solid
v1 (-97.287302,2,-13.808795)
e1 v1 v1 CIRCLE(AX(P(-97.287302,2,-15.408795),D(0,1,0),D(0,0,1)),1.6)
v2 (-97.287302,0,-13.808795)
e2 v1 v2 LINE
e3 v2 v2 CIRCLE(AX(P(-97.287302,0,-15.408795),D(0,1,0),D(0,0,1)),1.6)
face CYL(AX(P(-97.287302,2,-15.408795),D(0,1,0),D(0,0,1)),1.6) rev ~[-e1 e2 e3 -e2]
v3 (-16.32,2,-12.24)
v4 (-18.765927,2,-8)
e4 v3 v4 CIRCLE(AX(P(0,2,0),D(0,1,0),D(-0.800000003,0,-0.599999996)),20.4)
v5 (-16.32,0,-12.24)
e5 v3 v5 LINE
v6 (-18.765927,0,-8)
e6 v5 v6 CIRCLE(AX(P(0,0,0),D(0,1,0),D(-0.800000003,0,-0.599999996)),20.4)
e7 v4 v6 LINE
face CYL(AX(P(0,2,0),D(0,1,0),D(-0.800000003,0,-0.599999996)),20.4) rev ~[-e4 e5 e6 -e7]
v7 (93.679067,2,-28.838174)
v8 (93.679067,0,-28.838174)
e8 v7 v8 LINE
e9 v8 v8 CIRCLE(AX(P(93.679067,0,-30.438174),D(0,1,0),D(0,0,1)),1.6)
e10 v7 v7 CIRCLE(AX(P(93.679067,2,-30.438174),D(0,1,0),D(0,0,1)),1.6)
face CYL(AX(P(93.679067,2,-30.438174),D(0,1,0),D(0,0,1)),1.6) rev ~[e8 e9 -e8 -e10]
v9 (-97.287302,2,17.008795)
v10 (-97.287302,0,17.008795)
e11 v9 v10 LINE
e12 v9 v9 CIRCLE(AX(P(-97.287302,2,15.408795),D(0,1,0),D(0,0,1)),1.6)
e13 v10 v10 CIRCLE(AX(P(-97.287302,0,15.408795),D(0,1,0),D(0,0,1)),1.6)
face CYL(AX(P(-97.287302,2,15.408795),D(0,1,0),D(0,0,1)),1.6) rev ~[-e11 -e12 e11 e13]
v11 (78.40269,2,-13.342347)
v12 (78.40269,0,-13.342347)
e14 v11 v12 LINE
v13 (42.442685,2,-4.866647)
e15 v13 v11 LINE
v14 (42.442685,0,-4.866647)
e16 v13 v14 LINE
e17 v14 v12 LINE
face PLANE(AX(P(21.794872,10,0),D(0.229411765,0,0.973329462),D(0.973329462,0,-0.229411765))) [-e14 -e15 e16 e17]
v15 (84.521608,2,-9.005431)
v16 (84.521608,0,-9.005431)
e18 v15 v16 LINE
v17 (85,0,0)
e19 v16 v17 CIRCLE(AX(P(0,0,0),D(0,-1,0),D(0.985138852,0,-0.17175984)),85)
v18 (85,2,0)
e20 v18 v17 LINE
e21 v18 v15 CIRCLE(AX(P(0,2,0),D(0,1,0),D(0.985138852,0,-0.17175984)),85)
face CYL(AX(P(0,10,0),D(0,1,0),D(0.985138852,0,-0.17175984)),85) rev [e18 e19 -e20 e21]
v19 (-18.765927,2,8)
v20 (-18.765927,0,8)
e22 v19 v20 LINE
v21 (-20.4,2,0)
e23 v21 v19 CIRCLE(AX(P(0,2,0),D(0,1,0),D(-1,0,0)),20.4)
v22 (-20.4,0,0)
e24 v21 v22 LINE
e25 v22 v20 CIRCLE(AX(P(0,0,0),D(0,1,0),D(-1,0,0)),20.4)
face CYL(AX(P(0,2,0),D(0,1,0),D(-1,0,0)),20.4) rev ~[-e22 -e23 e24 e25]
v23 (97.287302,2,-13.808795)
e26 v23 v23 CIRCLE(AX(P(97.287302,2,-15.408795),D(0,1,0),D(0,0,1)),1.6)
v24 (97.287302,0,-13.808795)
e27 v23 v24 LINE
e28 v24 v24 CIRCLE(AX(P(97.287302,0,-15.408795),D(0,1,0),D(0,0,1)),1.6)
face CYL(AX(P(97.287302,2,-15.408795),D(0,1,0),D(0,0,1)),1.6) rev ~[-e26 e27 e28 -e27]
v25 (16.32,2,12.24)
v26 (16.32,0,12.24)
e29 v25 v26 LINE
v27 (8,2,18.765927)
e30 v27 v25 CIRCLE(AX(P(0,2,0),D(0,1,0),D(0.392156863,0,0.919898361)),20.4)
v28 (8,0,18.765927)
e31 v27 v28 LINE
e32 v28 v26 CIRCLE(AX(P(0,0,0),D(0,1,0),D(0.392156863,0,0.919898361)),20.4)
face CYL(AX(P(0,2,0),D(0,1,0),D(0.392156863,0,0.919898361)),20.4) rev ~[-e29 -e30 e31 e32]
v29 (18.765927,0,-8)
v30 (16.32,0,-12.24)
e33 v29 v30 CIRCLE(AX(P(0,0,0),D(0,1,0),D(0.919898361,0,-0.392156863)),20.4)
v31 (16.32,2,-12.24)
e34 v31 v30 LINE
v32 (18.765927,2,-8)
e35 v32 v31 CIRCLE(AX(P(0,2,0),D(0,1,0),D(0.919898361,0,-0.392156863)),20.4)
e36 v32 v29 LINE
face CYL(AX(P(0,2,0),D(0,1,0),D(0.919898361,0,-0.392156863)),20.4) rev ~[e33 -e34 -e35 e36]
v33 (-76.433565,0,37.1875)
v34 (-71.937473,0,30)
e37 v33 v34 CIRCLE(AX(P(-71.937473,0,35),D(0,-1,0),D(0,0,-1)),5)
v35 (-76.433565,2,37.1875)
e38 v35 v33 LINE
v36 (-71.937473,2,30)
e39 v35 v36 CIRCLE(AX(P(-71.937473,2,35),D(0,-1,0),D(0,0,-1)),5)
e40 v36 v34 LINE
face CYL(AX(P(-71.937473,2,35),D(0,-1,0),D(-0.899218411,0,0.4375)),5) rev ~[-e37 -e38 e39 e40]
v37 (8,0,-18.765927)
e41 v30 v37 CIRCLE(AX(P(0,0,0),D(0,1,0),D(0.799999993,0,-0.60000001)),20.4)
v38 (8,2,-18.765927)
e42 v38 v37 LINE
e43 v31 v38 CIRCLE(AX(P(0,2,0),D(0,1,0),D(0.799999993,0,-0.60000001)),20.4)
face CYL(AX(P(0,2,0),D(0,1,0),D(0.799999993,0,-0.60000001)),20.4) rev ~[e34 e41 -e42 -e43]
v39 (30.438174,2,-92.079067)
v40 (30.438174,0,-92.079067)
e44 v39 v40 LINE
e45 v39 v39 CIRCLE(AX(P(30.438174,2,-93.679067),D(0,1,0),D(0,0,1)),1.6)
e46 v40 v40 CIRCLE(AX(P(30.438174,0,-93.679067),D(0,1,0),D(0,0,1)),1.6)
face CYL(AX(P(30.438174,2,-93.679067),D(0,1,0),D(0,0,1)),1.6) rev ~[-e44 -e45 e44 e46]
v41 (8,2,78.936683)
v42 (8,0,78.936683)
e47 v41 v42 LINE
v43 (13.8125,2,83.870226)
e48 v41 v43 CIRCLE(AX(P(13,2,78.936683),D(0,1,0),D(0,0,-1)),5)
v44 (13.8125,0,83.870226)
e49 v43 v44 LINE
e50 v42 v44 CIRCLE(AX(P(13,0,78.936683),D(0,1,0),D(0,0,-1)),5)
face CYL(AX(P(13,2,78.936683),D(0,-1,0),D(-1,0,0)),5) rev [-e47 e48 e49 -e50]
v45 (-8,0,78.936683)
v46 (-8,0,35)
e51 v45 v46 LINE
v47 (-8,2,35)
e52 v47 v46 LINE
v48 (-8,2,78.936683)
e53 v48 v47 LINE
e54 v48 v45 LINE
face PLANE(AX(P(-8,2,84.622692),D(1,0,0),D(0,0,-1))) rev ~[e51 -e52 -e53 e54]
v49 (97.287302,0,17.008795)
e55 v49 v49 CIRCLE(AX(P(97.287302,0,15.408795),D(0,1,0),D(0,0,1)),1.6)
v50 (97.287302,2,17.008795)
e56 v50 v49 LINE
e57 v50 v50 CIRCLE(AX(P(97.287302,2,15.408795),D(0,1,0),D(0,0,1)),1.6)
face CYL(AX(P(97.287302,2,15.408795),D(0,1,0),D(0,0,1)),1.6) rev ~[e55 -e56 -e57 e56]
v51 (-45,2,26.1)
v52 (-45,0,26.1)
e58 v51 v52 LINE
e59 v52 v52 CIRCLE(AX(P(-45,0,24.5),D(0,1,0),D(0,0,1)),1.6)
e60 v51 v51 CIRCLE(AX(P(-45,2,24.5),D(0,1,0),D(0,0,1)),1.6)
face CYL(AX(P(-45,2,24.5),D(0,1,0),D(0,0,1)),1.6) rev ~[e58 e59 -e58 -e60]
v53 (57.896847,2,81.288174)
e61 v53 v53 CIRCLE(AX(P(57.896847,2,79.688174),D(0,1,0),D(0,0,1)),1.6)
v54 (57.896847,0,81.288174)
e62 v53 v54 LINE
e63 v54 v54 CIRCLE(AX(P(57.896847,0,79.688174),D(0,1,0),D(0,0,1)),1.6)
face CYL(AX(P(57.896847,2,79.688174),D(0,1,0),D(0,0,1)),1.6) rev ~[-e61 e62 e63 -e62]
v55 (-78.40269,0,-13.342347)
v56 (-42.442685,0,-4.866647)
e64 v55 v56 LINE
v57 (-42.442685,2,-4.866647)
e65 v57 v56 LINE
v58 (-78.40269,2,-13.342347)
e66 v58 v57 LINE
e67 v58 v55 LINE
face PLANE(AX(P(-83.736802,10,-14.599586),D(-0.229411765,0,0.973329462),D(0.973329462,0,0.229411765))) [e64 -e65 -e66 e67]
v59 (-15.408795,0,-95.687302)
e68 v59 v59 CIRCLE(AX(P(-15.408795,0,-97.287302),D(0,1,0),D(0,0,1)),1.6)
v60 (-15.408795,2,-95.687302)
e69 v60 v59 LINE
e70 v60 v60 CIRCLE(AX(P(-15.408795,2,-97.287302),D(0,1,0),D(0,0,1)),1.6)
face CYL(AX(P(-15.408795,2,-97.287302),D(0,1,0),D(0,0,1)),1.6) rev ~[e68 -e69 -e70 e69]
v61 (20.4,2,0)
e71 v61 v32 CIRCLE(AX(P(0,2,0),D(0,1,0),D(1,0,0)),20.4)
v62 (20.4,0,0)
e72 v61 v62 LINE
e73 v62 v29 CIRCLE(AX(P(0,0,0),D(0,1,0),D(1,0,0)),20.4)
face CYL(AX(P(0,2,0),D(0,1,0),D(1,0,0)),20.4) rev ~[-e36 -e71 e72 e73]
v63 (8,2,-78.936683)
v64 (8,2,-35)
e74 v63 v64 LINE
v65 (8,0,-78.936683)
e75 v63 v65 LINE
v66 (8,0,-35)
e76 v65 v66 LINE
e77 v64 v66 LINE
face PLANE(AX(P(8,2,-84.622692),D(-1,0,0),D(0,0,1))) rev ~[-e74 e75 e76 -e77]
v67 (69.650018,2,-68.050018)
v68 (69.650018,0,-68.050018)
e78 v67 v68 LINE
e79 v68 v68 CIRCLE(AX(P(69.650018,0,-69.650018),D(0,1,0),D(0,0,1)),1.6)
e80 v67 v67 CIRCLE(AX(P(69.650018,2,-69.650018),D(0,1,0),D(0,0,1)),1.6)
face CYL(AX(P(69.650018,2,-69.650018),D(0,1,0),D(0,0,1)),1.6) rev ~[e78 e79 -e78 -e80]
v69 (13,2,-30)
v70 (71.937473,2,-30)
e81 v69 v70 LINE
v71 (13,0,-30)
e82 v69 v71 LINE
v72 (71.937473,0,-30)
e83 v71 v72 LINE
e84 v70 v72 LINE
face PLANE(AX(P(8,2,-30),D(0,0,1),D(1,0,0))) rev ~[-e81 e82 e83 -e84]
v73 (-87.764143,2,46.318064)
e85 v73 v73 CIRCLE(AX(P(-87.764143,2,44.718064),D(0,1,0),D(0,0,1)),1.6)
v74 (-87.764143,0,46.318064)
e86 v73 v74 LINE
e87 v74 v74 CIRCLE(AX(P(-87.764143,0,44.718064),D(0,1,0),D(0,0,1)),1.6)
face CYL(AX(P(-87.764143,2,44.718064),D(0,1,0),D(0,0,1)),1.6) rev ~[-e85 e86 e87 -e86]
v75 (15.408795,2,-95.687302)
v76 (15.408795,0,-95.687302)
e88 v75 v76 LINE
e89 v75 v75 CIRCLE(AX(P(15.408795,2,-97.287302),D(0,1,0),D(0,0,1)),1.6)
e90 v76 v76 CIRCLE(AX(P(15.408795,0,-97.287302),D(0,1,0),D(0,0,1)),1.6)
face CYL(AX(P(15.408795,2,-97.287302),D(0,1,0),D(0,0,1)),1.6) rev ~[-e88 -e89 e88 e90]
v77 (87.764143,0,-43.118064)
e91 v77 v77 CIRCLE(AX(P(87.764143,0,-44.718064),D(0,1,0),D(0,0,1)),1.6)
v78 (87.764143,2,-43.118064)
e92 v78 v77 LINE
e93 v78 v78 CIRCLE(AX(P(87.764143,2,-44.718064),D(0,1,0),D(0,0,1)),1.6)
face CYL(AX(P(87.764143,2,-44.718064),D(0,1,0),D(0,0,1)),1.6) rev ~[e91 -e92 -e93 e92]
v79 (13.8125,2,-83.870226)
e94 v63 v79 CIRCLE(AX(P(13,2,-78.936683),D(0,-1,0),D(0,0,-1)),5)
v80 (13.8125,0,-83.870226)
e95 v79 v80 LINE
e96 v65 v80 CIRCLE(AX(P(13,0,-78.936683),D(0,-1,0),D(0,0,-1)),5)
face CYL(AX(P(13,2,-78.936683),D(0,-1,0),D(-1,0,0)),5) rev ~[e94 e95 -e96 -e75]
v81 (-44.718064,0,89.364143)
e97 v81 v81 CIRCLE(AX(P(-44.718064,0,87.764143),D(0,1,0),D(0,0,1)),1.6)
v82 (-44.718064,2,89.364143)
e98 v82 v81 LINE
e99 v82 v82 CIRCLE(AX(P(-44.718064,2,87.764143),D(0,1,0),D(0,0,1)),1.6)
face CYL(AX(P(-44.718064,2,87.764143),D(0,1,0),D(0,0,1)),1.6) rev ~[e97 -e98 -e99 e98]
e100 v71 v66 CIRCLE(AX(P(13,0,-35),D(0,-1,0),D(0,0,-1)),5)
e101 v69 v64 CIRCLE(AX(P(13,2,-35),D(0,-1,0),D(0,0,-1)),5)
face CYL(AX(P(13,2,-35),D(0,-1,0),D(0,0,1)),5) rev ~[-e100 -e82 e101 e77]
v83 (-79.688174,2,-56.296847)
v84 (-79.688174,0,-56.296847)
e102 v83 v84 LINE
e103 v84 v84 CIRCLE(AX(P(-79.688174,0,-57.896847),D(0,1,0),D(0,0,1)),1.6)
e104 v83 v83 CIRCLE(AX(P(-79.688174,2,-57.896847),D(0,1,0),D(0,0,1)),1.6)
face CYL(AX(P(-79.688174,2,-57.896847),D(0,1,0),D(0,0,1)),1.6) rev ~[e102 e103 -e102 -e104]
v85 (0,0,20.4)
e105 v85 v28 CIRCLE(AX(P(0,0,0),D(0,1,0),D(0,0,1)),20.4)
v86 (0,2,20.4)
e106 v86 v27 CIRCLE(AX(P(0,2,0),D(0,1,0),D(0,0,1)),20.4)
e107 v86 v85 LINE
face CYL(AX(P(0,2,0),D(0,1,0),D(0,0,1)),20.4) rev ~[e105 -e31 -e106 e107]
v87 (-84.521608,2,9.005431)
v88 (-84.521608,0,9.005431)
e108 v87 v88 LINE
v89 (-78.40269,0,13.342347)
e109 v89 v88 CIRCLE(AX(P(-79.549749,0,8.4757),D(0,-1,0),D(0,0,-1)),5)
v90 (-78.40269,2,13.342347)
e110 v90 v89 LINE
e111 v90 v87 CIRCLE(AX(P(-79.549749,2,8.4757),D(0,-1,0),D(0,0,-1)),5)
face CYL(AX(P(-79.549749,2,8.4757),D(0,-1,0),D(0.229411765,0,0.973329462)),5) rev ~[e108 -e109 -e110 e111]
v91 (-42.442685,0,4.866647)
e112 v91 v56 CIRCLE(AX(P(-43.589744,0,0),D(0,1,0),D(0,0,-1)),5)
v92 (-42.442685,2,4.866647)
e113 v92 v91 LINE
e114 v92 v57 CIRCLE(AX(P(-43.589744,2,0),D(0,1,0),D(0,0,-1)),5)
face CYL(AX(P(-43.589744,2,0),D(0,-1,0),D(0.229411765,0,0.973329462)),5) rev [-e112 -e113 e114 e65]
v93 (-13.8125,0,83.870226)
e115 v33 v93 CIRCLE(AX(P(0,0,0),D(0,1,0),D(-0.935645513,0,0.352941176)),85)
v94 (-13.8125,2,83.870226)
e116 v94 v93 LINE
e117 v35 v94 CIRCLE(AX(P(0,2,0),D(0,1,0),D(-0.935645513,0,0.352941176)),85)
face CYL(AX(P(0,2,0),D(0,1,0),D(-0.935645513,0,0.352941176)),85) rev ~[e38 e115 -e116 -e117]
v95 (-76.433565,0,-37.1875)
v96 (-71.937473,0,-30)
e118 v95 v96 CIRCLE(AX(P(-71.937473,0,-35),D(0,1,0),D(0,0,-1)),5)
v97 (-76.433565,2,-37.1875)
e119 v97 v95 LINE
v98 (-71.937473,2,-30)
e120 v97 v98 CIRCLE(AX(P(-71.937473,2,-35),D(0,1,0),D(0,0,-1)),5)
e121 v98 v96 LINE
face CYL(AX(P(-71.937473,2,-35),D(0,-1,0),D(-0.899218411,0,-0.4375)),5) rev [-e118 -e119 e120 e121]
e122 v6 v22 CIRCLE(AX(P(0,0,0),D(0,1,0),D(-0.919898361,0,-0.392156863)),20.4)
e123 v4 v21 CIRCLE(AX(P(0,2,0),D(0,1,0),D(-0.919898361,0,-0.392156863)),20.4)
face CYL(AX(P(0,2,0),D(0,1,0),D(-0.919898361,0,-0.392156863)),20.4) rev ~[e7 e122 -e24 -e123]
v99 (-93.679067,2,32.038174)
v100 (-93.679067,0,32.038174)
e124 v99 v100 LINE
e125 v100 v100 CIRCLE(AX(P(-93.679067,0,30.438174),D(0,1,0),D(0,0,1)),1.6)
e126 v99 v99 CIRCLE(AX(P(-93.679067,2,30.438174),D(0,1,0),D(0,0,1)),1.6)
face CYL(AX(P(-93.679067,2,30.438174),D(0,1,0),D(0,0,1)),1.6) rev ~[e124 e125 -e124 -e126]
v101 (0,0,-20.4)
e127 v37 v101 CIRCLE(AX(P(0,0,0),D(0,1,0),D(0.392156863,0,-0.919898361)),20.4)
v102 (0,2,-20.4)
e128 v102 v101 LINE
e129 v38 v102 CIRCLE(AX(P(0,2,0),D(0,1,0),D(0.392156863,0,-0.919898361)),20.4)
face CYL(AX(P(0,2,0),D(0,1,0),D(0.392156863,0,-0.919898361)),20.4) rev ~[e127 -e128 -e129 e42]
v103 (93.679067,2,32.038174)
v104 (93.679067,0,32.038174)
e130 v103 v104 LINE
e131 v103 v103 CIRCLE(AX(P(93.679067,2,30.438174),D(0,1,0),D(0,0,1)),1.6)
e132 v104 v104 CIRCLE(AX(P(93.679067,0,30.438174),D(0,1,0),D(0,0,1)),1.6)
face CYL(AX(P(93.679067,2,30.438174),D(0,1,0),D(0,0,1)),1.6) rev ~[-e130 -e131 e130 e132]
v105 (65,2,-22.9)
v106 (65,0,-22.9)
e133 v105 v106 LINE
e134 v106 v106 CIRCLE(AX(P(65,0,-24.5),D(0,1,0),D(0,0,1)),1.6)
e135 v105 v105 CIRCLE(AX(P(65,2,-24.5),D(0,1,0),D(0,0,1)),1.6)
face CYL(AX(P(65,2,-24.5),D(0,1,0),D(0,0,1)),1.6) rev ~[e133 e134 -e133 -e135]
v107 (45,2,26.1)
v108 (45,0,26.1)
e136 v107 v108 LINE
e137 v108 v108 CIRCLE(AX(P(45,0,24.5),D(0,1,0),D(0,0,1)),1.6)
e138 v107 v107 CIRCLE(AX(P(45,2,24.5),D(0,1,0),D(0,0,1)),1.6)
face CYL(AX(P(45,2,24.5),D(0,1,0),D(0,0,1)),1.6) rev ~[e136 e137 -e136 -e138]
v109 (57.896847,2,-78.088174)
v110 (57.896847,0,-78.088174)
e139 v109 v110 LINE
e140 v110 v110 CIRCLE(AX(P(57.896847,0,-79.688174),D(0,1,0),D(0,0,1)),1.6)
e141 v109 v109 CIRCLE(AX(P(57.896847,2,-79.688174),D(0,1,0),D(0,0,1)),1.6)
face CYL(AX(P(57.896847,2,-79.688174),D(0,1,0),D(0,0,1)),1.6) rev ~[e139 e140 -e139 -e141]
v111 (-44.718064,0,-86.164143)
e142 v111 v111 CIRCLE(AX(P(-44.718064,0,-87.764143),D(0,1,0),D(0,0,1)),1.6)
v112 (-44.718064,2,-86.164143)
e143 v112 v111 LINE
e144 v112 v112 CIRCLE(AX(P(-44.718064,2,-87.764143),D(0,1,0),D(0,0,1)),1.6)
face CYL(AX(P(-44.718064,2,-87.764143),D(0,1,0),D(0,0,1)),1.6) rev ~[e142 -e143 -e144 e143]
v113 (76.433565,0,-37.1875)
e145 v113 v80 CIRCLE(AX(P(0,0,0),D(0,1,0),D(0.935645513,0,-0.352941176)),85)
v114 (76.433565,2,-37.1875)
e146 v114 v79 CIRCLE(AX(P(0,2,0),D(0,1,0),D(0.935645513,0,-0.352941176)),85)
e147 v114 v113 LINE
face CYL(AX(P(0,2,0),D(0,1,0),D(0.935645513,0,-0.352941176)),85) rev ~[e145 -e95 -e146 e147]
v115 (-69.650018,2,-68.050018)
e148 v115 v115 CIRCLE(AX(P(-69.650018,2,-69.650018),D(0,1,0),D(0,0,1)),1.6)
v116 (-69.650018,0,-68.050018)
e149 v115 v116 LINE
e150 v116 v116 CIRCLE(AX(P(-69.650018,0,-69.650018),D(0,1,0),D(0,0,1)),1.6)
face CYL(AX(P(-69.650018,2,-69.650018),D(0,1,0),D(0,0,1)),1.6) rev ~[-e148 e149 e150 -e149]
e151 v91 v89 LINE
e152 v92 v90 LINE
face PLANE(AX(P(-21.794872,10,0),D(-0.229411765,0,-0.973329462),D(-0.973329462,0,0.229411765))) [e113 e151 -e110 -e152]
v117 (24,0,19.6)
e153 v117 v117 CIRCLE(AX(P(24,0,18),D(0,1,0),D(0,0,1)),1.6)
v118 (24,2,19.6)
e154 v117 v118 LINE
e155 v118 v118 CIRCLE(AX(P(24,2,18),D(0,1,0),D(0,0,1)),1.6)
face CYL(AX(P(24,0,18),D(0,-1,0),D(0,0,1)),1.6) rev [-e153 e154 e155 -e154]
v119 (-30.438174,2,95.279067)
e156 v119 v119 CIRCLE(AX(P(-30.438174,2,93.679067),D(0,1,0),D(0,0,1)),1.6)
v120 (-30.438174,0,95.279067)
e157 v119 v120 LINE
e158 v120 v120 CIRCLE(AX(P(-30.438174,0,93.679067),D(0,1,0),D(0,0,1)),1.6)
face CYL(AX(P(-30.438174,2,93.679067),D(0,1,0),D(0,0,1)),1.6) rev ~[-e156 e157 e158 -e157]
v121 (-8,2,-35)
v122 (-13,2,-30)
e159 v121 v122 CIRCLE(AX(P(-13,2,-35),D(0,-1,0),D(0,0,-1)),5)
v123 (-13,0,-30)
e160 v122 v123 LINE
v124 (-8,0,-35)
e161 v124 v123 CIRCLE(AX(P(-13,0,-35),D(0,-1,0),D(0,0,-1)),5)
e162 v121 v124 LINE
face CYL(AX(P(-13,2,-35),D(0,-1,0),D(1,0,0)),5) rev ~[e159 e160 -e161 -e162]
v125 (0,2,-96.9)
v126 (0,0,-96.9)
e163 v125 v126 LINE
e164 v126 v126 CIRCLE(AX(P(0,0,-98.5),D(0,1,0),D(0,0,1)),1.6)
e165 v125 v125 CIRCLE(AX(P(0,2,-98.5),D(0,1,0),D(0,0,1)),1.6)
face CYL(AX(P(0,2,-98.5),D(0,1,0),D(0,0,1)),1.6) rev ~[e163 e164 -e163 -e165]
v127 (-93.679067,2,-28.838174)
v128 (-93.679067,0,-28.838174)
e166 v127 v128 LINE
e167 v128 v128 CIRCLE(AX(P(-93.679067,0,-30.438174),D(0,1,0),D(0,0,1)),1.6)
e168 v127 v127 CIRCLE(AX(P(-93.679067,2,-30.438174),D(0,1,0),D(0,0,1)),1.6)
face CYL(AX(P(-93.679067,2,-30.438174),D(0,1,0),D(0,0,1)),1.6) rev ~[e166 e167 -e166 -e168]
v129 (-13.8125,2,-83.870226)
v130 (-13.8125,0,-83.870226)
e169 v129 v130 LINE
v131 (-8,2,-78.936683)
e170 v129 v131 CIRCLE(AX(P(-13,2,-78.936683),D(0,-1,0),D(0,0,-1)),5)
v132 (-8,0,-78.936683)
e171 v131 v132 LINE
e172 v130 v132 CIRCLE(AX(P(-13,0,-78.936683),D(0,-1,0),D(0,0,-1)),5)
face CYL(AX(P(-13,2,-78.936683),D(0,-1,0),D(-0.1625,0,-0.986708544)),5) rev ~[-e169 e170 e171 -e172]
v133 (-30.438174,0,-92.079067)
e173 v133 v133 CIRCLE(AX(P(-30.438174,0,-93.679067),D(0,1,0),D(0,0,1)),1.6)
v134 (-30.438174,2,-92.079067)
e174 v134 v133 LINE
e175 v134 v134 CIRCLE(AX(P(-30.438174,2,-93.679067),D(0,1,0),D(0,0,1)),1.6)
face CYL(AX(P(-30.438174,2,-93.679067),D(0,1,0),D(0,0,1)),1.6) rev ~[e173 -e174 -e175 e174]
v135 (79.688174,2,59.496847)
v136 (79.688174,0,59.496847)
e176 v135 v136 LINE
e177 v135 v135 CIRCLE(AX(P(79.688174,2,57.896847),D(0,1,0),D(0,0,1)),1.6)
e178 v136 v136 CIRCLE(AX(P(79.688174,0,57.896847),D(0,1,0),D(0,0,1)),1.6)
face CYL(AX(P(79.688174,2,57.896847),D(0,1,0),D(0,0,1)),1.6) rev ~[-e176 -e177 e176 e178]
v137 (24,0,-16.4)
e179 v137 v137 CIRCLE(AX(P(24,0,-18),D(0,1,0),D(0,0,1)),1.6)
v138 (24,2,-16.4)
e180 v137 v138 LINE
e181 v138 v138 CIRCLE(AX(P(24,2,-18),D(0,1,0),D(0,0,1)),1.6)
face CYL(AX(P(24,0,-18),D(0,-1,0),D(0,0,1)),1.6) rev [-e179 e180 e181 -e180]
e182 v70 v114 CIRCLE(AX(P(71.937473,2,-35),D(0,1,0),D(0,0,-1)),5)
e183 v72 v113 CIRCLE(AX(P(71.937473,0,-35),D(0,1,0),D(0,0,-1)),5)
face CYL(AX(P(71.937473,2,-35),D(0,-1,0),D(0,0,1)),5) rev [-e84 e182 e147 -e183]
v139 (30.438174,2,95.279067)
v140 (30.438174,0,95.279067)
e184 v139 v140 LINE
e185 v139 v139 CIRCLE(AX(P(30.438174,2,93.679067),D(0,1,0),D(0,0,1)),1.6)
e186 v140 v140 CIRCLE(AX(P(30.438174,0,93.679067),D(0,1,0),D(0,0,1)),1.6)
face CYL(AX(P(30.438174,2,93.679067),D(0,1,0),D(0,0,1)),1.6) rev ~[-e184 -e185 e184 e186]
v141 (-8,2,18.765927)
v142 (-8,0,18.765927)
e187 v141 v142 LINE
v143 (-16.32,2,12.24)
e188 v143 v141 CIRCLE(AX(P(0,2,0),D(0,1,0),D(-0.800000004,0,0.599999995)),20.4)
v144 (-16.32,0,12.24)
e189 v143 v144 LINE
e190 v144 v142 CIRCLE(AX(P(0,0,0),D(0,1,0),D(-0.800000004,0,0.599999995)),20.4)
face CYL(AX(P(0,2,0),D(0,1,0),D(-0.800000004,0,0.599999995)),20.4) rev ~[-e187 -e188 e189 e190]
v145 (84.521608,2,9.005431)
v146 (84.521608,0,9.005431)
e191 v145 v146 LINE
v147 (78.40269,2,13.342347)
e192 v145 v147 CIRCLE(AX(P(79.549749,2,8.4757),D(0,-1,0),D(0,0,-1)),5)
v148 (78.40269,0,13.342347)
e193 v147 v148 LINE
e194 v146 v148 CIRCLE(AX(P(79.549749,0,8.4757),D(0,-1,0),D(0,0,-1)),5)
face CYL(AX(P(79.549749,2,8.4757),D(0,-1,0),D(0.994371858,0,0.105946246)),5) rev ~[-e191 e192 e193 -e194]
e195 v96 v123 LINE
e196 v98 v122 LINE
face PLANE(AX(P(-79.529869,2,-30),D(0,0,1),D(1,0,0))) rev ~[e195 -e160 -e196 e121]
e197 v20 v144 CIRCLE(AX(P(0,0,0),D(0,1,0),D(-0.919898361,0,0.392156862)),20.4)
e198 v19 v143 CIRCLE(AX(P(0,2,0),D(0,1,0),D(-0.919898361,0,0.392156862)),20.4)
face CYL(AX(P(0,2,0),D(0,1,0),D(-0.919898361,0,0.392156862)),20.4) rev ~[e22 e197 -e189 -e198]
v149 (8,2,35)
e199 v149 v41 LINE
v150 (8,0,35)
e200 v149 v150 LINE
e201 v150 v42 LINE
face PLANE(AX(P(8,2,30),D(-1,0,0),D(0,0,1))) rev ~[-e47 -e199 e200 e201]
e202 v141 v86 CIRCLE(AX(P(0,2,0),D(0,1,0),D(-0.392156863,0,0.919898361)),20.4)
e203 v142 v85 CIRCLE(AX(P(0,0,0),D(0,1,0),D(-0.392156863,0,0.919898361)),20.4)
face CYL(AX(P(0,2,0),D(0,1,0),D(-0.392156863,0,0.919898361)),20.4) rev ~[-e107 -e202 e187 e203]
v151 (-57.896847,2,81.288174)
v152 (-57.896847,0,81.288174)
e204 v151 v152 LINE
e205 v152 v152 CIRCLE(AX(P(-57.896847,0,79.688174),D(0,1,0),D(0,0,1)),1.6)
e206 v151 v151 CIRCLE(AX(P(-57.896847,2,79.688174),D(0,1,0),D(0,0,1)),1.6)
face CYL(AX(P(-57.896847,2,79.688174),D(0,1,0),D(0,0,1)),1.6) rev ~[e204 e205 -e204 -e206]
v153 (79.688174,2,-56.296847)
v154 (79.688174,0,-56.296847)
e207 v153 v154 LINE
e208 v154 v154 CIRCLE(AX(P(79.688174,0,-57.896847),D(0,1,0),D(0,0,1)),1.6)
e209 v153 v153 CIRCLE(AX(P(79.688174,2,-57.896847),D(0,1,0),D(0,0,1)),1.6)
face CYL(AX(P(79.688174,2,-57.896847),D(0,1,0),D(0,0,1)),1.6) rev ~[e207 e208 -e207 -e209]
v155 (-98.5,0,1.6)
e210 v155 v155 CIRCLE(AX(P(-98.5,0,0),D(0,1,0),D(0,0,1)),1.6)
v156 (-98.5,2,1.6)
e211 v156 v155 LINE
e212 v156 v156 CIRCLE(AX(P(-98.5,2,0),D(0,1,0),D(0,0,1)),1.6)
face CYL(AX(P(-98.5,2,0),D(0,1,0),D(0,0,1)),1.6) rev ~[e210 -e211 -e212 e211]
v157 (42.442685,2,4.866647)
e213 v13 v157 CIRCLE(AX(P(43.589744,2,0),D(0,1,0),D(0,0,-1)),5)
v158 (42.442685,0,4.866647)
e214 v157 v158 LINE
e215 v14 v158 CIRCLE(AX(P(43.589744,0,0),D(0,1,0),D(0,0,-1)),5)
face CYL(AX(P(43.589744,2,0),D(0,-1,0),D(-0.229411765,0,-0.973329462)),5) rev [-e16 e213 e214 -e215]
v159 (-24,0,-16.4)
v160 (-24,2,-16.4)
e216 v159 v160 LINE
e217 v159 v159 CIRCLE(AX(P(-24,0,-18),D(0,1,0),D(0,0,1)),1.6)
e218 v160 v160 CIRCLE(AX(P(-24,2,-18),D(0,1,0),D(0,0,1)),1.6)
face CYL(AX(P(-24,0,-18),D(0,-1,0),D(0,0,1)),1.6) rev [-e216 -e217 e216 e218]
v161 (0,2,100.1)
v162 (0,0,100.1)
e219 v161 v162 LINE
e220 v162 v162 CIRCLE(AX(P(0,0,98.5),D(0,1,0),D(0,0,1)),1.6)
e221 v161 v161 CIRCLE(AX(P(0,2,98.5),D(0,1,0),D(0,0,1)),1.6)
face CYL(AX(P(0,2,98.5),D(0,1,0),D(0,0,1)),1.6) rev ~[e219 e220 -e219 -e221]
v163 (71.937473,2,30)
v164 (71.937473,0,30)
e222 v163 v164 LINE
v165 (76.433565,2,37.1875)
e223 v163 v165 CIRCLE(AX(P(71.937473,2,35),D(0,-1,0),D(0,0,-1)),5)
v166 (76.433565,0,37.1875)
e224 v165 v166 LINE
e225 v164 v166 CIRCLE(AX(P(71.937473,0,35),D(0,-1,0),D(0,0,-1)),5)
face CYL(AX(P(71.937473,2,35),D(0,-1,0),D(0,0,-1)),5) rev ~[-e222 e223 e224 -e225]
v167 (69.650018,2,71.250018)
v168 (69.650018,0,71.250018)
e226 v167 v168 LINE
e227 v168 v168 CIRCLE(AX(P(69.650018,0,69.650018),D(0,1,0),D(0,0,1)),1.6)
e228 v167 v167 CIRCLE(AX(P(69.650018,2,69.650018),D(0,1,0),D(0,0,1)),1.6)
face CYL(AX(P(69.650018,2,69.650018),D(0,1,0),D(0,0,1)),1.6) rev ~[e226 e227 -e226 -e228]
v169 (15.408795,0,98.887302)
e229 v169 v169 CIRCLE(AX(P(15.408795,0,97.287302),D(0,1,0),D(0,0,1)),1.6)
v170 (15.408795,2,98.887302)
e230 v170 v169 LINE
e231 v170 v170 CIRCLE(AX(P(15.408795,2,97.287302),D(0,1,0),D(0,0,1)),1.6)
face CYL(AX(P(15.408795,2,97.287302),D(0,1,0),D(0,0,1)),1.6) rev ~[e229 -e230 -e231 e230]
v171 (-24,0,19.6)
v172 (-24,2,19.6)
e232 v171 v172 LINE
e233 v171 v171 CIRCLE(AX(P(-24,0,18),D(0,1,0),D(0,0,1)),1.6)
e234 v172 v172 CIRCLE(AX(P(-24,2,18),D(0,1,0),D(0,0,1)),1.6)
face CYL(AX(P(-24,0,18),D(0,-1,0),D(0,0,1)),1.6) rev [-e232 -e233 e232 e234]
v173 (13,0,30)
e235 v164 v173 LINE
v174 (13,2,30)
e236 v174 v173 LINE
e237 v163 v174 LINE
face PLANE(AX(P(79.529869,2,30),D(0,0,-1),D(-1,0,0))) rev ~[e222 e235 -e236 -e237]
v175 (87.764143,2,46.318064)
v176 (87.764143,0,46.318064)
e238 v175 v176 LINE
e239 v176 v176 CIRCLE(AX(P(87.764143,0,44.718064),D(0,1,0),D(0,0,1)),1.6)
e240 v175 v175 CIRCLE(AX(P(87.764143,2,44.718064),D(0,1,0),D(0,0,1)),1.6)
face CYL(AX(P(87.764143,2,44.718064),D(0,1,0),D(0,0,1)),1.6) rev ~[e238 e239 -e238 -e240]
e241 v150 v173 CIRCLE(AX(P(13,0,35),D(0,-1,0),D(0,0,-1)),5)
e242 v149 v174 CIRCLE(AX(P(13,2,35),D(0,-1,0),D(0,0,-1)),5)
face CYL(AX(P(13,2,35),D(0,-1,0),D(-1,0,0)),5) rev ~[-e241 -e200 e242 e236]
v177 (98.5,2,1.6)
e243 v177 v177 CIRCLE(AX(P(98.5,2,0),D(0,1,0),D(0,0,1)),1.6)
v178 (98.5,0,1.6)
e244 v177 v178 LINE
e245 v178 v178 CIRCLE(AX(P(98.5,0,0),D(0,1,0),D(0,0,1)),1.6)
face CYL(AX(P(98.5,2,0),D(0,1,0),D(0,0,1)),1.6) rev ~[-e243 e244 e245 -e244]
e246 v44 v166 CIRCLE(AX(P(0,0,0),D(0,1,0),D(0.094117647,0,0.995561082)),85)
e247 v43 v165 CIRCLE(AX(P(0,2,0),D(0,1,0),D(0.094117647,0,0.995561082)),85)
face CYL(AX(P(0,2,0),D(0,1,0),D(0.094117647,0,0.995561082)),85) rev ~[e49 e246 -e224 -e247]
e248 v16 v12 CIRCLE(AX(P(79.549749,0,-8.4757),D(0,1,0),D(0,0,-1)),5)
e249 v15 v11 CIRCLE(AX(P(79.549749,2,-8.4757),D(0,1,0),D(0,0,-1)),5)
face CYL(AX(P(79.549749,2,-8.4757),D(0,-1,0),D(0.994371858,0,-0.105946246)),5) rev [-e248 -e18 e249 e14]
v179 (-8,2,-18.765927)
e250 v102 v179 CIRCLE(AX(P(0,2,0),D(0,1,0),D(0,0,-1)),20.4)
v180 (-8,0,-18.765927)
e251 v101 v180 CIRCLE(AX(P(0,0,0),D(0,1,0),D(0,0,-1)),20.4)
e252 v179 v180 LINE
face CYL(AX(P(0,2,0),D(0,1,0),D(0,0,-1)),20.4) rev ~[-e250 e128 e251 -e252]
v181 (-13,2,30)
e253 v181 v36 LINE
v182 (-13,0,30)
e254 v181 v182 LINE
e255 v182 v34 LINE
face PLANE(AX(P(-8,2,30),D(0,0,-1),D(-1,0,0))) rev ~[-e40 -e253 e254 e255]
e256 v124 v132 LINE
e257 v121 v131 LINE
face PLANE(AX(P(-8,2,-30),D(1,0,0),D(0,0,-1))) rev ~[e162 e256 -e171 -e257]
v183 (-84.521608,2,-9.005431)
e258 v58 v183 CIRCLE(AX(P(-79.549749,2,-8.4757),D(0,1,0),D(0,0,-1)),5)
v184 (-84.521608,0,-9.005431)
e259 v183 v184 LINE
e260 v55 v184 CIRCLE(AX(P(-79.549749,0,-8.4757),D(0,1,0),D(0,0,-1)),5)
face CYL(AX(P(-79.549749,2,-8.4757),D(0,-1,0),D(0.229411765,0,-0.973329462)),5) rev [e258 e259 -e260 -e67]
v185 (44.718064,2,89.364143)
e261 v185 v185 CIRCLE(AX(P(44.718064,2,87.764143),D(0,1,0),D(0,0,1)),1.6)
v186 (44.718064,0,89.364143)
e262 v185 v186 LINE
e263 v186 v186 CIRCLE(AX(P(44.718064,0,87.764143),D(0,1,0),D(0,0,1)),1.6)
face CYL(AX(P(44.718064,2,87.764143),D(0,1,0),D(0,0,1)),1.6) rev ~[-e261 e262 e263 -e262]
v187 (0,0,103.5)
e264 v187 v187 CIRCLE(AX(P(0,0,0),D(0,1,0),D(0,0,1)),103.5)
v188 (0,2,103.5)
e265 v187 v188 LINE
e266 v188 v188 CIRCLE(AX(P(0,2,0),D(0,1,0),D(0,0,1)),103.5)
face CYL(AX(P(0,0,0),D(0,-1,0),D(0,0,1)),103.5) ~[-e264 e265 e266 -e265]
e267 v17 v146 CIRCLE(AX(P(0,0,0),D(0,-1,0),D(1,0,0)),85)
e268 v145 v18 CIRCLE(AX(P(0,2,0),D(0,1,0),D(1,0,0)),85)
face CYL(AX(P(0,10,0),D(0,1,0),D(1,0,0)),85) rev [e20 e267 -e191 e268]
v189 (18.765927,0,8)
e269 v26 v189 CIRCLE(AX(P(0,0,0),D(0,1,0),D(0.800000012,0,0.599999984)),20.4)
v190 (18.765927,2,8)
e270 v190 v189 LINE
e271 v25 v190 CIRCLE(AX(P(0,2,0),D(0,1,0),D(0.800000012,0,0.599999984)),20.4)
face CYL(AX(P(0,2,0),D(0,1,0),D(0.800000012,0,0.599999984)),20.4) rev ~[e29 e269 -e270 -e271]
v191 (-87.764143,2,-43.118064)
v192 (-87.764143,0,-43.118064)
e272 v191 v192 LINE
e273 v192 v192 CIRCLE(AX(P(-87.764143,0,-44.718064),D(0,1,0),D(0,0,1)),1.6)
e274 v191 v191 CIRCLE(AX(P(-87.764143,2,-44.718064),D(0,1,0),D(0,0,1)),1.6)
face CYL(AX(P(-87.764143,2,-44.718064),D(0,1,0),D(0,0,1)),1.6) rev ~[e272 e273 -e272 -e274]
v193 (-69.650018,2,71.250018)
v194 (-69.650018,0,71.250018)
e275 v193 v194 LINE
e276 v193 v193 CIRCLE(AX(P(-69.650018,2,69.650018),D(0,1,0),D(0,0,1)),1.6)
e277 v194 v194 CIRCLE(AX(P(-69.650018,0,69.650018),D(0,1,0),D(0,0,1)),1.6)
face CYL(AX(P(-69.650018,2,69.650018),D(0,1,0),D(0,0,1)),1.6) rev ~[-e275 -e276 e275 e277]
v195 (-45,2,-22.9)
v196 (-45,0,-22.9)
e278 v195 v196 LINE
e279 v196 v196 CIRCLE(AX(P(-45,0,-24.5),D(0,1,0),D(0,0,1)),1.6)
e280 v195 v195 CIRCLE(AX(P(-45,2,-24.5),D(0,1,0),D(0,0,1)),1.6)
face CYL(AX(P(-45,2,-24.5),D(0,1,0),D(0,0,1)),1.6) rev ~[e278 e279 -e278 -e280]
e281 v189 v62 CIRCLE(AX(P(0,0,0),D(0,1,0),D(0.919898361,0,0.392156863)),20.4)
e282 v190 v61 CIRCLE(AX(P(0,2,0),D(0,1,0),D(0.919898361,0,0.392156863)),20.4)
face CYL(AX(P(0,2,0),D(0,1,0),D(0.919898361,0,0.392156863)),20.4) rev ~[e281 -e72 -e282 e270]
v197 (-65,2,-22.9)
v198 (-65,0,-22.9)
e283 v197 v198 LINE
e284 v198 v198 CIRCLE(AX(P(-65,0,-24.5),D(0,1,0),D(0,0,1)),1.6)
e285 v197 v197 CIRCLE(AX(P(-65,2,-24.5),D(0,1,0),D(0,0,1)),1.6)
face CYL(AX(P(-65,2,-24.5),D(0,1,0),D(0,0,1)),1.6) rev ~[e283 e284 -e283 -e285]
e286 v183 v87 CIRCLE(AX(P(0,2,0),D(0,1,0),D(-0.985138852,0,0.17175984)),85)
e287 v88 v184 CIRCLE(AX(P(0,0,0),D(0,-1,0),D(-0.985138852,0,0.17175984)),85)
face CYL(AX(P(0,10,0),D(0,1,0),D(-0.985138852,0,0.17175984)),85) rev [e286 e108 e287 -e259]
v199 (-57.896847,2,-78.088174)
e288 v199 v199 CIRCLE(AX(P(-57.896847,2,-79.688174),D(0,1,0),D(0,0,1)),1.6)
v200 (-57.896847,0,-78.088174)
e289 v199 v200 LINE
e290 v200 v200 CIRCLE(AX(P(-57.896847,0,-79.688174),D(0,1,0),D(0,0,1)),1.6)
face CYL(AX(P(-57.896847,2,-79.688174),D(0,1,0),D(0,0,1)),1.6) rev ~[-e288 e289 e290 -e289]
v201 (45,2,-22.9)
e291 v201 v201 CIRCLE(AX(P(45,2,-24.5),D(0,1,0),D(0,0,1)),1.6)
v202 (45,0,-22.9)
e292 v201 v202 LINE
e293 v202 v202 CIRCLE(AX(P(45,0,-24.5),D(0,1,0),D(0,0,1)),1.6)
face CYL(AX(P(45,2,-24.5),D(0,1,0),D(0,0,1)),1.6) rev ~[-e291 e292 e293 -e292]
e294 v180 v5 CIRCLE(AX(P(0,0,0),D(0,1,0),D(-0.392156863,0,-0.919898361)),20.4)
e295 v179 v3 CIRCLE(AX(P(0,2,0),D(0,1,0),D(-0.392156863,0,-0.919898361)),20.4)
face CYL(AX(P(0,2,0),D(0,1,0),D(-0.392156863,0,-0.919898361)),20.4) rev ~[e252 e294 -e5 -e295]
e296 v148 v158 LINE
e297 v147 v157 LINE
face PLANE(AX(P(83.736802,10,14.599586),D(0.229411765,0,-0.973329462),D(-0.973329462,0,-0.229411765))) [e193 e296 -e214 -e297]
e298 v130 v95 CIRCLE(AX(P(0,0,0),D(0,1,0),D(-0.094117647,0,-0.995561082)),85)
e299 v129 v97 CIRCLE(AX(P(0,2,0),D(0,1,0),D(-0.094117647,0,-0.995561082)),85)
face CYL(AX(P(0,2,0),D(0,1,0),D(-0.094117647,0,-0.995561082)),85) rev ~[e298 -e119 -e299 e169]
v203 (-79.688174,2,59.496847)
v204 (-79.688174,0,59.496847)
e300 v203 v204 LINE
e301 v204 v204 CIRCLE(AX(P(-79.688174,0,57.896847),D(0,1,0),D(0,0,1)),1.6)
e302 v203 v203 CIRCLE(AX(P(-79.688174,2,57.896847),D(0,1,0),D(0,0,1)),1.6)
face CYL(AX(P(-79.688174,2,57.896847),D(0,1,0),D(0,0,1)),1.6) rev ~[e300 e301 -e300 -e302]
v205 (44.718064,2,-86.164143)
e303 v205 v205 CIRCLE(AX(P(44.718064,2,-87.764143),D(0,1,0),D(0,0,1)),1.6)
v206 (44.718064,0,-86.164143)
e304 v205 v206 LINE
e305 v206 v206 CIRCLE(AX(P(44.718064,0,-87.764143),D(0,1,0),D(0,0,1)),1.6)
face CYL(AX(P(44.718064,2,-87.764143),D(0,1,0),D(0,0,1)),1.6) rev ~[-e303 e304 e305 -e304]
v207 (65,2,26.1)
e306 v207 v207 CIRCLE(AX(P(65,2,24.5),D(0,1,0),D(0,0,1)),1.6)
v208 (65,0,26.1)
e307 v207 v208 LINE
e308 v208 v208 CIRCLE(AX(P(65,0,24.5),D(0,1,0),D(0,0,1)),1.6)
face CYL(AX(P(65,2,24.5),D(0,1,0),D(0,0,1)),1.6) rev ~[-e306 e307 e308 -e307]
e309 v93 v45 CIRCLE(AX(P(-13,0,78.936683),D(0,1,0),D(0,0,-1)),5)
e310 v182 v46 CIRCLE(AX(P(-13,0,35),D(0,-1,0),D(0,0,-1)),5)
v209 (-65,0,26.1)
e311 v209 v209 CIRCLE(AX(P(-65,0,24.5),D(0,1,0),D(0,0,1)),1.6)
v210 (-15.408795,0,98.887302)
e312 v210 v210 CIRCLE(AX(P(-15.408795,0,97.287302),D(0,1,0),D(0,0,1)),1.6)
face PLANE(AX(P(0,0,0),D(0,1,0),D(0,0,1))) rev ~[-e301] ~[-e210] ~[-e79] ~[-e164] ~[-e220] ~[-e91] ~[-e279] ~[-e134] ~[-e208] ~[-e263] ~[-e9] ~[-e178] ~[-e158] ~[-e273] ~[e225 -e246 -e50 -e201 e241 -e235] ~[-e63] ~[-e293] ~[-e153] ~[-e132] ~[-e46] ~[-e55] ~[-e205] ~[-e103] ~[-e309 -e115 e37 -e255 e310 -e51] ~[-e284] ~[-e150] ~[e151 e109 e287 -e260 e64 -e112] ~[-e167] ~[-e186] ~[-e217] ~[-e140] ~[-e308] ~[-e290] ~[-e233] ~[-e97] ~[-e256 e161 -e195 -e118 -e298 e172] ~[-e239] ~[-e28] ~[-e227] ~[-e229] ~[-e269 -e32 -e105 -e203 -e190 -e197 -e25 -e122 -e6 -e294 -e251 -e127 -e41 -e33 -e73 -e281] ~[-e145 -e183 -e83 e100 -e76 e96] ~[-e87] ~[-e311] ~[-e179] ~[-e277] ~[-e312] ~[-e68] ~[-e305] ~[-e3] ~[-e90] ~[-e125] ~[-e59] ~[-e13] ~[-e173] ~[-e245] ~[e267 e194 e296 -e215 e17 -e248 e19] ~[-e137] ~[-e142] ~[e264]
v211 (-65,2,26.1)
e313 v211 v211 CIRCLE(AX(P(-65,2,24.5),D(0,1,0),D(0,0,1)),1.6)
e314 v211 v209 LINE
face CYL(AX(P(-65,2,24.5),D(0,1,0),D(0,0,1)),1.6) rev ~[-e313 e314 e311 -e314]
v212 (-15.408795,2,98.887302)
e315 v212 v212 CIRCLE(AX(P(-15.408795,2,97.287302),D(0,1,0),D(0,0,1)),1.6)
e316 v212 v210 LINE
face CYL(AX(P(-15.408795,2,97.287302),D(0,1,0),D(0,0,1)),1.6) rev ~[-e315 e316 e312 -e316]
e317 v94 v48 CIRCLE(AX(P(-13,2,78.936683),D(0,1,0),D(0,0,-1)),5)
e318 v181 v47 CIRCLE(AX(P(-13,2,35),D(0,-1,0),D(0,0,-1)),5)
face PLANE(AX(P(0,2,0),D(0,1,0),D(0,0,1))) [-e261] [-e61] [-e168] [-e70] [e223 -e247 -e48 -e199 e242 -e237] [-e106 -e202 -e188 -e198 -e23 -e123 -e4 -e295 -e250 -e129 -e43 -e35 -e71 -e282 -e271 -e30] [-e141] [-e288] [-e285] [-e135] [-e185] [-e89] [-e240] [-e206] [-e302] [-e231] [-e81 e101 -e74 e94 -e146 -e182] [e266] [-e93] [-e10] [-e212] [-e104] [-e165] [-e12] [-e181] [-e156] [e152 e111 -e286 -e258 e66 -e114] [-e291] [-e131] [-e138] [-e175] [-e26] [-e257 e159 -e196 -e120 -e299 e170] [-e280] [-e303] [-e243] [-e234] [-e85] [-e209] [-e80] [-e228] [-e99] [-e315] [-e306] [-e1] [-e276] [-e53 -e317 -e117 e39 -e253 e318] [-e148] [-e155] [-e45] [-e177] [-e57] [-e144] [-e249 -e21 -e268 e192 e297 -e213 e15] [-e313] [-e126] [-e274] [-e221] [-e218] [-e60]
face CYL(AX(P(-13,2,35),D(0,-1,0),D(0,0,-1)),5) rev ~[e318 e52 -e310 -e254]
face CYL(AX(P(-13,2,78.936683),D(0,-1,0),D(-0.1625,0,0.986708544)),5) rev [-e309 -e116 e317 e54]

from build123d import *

# Parameters (mm, degrees)
SKETCH_1_R          = 103.5
SKETCH_1_R_2        = 1.6
EXTRUDE_1_DEPTH     = 2
SKETCH_2_R          = 1.6
CUT_EXTRUDE_1_DEPTH = 147.384766967
SKETCH_3_W          = 8
SKETCH_3_H          = 8
CUT_EXTRUDE_2_DEPTH = 10
CUT_EXTRUDE_START   = -10
CUT_EXTRUDE_3_DEPTH = 10
FILLET_1_R          = 5


with BuildPart() as part:
    # 草图1 → 凸台-拉伸1 (new body)
    with BuildSketch(Plane(origin=(0, 0, 0), x_dir=(1, 0, 0), z_dir=(0, 1, 0))):
        with Locations(Location((0, 0, 0), (0, 0, 270))):
            Circle(SKETCH_1_R)
        with Locations(Location((-24, -18, 0), (0, 0, 270))):
            Circle(SKETCH_1_R_2, mode=Mode.SUBTRACT)
        with Locations(Location((24, -18, 0), (0, 0, 270))):
            Circle(SKETCH_1_R_2, mode=Mode.SUBTRACT)
        with Locations(Location((24, 18, 0), (0, 0, 270))):
            Circle(SKETCH_1_R_2, mode=Mode.SUBTRACT)
        with Locations(Location((-24, 18, 0), (0, 0, 270))):
            Circle(SKETCH_1_R_2, mode=Mode.SUBTRACT)
    extrude(amount=EXTRUDE_1_DEPTH)

    # 草图2 → 切除-拉伸1 (cut, through all)
    with BuildSketch(Plane(origin=(0, 2, 0), x_dir=(1, 0, 0), z_dir=(0, 1, 0))):
        with Locations(Location((-45, 24.5, 0), (0, 0, 270))):
            Circle(SKETCH_2_R)
        with Locations(Location((-65, 24.5, 0), (0, 0, 270))):
            Circle(SKETCH_2_R)
        with Locations(Location((-65, -24.5, 0), (0, 0, 270))):
            Circle(SKETCH_2_R)
        with Locations(Location((-45, -24.5, 0), (0, 0, 270))):
            Circle(SKETCH_2_R)
        with Locations(Location((45, -24.5, 0), (0, 0, 270))):
            Circle(SKETCH_2_R)
        with Locations(Location((65, -24.5, 0), (0, 0, 270))):
            Circle(SKETCH_2_R)
        with Locations(Location((45, 24.5, 0), (0, 0, 270))):
            Circle(SKETCH_2_R)
        with Locations(Location((65, 24.5, 0), (0, 0, 270))):
            Circle(SKETCH_2_R)
        with Locations(Location((0, 98.5, 0), (0, 0, 270))):
            Circle(SKETCH_2_R)
        with Locations(Location((15.408794806, 97.287301549, 0), (0, 0, 270))):
            Circle(SKETCH_2_R)
        with Locations(Location((30.438173946, 93.679066855, 0), (0, 0, 270))):
            Circle(SKETCH_2_R)
        with Locations(Location((44.718064224, 87.764142633, 0), (0, 0, 270))):
            Circle(SKETCH_2_R)
        with Locations(Location((57.896847351, 79.688173946, 0), (0, 0, 270))):
            Circle(SKETCH_2_R)
        with Locations(Location((69.650017947, 69.650017947, 0), (0, 0, 270))):
            Circle(SKETCH_2_R)
        with Locations(Location((79.688173946, 57.896847351, 0), (0, 0, 270))):
            Circle(SKETCH_2_R)
        with Locations(Location((87.764142633, 44.718064224, 0), (0, 0, 270))):
            Circle(SKETCH_2_R)
        with Locations(Location((93.679066855, 30.438173946, 0), (0, 0, 270))):
            Circle(SKETCH_2_R)
        with Locations(Location((97.287301549, 15.408794806, 0), (0, 0, 270))):
            Circle(SKETCH_2_R)
        with Locations(Location((98.5, 0, 0), (0, 0, 270))):
            Circle(SKETCH_2_R)
        with Locations(Location((97.287301549, -15.408794806, 0), (0, 0, 270))):
            Circle(SKETCH_2_R)
        with Locations(Location((93.679066855, -30.438173946, 0), (0, 0, 270))):
            Circle(SKETCH_2_R)
        with Locations(Location((87.764142633, -44.718064224, 0), (0, 0, 270))):
            Circle(SKETCH_2_R)
        with Locations(Location((79.688173946, -57.896847351, 0), (0, 0, 270))):
            Circle(SKETCH_2_R)
        with Locations(Location((69.650017947, -69.650017947, 0), (0, 0, 270))):
            Circle(SKETCH_2_R)
        with Locations(Location((57.896847351, -79.688173946, 0), (0, 0, 270))):
            Circle(SKETCH_2_R)
        with Locations(Location((44.718064224, -87.764142633, 0), (0, 0, 270))):
            Circle(SKETCH_2_R)
        with Locations(Location((30.438173946, -93.679066855, 0), (0, 0, 270))):
            Circle(SKETCH_2_R)
        with Locations(Location((15.408794806, -97.287301549, 0), (0, 0, 270))):
            Circle(SKETCH_2_R)
        with Locations(Location((0, -98.5, 0), (0, 0, 270))):
            Circle(SKETCH_2_R)
        with Locations(Location((-15.408794806, -97.287301549, 0), (0, 0, 270))):
            Circle(SKETCH_2_R)
        with Locations(Location((-30.438173946, -93.679066855, 0), (0, 0, 270))):
            Circle(SKETCH_2_R)
        with Locations(Location((-44.718064224, -87.764142633, 0), (0, 0, 270))):
            Circle(SKETCH_2_R)
        with Locations(Location((-57.896847351, -79.688173946, 0), (0, 0, 270))):
            Circle(SKETCH_2_R)
        with Locations(Location((-69.650017947, -69.650017947, 0), (0, 0, 270))):
            Circle(SKETCH_2_R)
        with Locations(Location((-79.688173946, -57.896847351, 0), (0, 0, 270))):
            Circle(SKETCH_2_R)
        with Locations(Location((-87.764142633, -44.718064224, 0), (0, 0, 270))):
            Circle(SKETCH_2_R)
        with Locations(Location((-93.679066855, -30.438173946, 0), (0, 0, 270))):
            Circle(SKETCH_2_R)
        with Locations(Location((-97.287301549, -15.408794806, 0), (0, 0, 270))):
            Circle(SKETCH_2_R)
        with Locations(Location((-98.5, 0, 0), (0, 0, 270))):
            Circle(SKETCH_2_R)
        with Locations(Location((-97.287301549, 15.408794806, 0), (0, 0, 270))):
            Circle(SKETCH_2_R)
        with Locations(Location((-93.679066855, 30.438173946, 0), (0, 0, 270))):
            Circle(SKETCH_2_R)
        with Locations(Location((-87.764142633, 44.718064224, 0), (0, 0, 270))):
            Circle(SKETCH_2_R)
        with Locations(Location((-79.688173946, 57.896847351, 0), (0, 0, 270))):
            Circle(SKETCH_2_R)
        with Locations(Location((-69.650017947, 69.650017947, 0), (0, 0, 270))):
            Circle(SKETCH_2_R)
        with Locations(Location((-57.896847351, 79.688173946, 0), (0, 0, 270))):
            Circle(SKETCH_2_R)
        with Locations(Location((-44.718064224, 87.764142633, 0), (0, 0, 270))):
            Circle(SKETCH_2_R)
        with Locations(Location((-30.438173946, 93.679066855, 0), (0, 0, 270))):
            Circle(SKETCH_2_R)
        with Locations(Location((-15.408794806, 97.287301549, 0), (0, 0, 270))):
            Circle(SKETCH_2_R)
    extrude(amount=-CUT_EXTRUDE_1_DEPTH, mode=Mode.SUBTRACT)

    # 草图3 → 切除-拉伸2 (cut)
    with BuildSketch(Plane(origin=(0, 2, 0), x_dir=(1, 0, 0), z_dir=(0, 1, 0))):
        with BuildLine():
            ThreePointArc((-79.529868603, -30), (-51.587586632, -67.555317374), (-8, -84.622691992))
            Line((-8, -84.622691992), (-8, -30))
            Line((-8, -30), (-79.529868603, -30))
        make_face()
        with BuildLine():
            Line((8, -30), (8, -84.622691992))
            ThreePointArc((8, -84.622691992), (51.587586632, -67.555317374), (79.529868603, -30))
            Line((79.529868603, -30), (8, -30))
        make_face()
        with BuildLine():
            Line((8, 30), (79.529868603, 30))
            ThreePointArc((79.529868603, 30), (51.587586632, 67.555317374), (8, 84.622691992))
            Line((8, 84.622691992), (8, 30))
        make_face()
        with BuildLine():
            ThreePointArc((-8, 84.622691992), (-51.587586632, 67.555317374), (-79.529868603, 30))
            Line((-79.529868603, 30), (-8, 30))
            Line((-8, 30), (-8, 84.622691992))
        make_face()
        with BuildLine():
            Line((-18.765926569, 8), (-8, 8))
            Line((-8, 8), (-8, 18.765926569))
            ThreePointArc((-8, 18.765926569), (-12.590175955, 16.051400856), (-16.320000071, 12.239999905))
            ThreePointArc((-16.320000071, 12.239999905), (-17.670595968, 10.19362733), (-18.765926569, 8))
        make_face()
        with BuildLine():
            Line((-20.4, 0), (-8, 0))
            Line((-8, 0), (-8, 8))
            Line((-8, 8), (-18.765926569, 8))
            ThreePointArc((-18.765926569, 8), (-19.987307247, 4.082590966), (-20.4, 0))
        make_face()
        with BuildLine():
            Line((-18.765926569, -8), (-8, -8))
            Line((-8, -8), (-8, 0))
            Line((-8, 0), (-20.4, 0))
            ThreePointArc((-20.4, 0), (-19.987307247, -4.082590966), (-18.765926569, -8))
        make_face()
        with BuildLine():
            ThreePointArc((-16.320000071, -12.239999905), (-12.590175955, -16.051400856), (-8, -18.765926569))
            Line((-8, -18.765926569), (-8, -8))
            Line((-8, -8), (-18.765926569, -8))
            ThreePointArc((-18.765926569, -8), (-17.670595968, -10.19362733), (-16.320000071, -12.239999905))
        make_face()
        with BuildLine():
            ThreePointArc((-8, -18.765926569), (-4.082590966, -19.987307247), (0, -20.4))
            Line((0, -20.4), (0, -8))
            Line((0, -8), (-8, -8))
            Line((-8, -8), (-8, -18.765926569))
        make_face()
        with BuildLine():
            Line((0, -8), (0, -20.4))
            ThreePointArc((0, -20.4), (4.082590966, -19.987307247), (8, -18.765926569))
            Line((8, -18.765926569), (8, -8))
            Line((8, -8), (0, -8))
        make_face()
        with Locations((4, -4)):
            Rectangle(SKETCH_3_W, SKETCH_3_H)
        with Locations((-4, -4)):
            Rectangle(SKETCH_3_W, SKETCH_3_H)
        with Locations((-4, 4)):
            Rectangle(SKETCH_3_W, SKETCH_3_H)
        with Locations((4, 4)):
            Rectangle(SKETCH_3_W, SKETCH_3_H)
        with BuildLine():
            Line((0, 20.4), (0, 8))
            Line((0, 8), (8, 8))
            Line((8, 8), (8, 18.765926569))
            ThreePointArc((8, 18.765926569), (4.082590966, 19.987307247), (0, 20.4))
        make_face()
        with BuildLine():
            Line((-8, 8), (0, 8))
            Line((0, 8), (0, 20.4))
            ThreePointArc((0, 20.4), (-4.082590966, 19.987307247), (-8, 18.765926569))
            Line((-8, 18.765926569), (-8, 8))
        make_face()
        with BuildLine():
            Line((8, 18.765926569), (8, 8))
            Line((8, 8), (18.765926569, 8))
            ThreePointArc((18.765926569, 8), (17.670595876, 10.193627488), (16.319999852, 12.240000197))
            ThreePointArc((16.319999852, 12.240000197), (12.590175811, 16.051400968), (8, 18.765926569))
        make_face()
        with BuildLine():
            Line((8, 8), (8, 0))
            Line((8, 0), (20.4, 0))
            ThreePointArc((20.4, 0), (19.987307247, 4.082590966), (18.765926569, 8))
            Line((18.765926569, 8), (8, 8))
        make_face()
        with BuildLine():
            Line((8, 0), (8, -8))
            Line((8, -8), (18.765926569, -8))
            ThreePointArc((18.765926569, -8), (19.987307247, -4.082590966), (20.4, 0))
            Line((20.4, 0), (8, 0))
        make_face()
        with BuildLine():
            Line((8, -8), (8, -18.765926569))
            ThreePointArc((8, -18.765926569), (12.59017607, -16.051400765), (16.320000248, -12.23999967))
            ThreePointArc((16.320000248, -12.23999967), (17.670596041, -10.193627203), (18.765926569, -8))
            Line((18.765926569, -8), (8, -8))
        make_face()
    extrude(amount=-CUT_EXTRUDE_2_DEPTH, mode=Mode.SUBTRACT)

    # 草图4 → 切除-拉伸3 (cut)
    with BuildSketch(Plane.XZ.offset(CUT_EXTRUDE_START)):
        with BuildLine():
            ThreePointArc((-83.7368024, 14.599586429), (-85, 0), (-83.7368024, -14.599586429))
            Line((-83.7368024, -14.599586429), (-21.794871795, 0))
            Line((-21.794871795, 0), (-83.7368024, 14.599586429))
        make_face()
        with BuildLine():
            Line((83.7368024, 14.599586429), (21.794871795, 0))
            Line((21.794871795, 0), (83.7368024, -14.599586429))
            ThreePointArc((83.7368024, -14.599586429), (84.683611767, -7.327066126), (85, 0))
            ThreePointArc((85, 0), (84.683611767, 7.327066126), (83.7368024, 14.599586429))
        make_face()
    extrude(amount=CUT_EXTRUDE_3_DEPTH, mode=Mode.SUBTRACT)

    # 圆角1
    fillet_1_edges = [part.edges().sort_by_distance(p)[0] for p in [
        (8, 1, 84.622691992),
        (8, 1, 30),
        (79.529868603, 1, 30),
        (79.529868603, 1, -30),
        (8, 1, -30),
        (8, 1, -84.622691992),
        (-8, 1, -84.622691992),
        (-8, 1, -30),
        (-79.529868603, 1, -30),
        (-79.529868603, 1, 30),
        (-8, 1, 30),
        (-8, 1, 84.622691992),
        (-83.7368024, 1, 14.599586429),
        (-21.794871795, 1, 0),
        (-83.7368024, 1, -14.599586429),
        (83.7368024, 1, -14.599586429),
        (21.794871795, 1, 0),
        (83.7368024, 1, 14.599586429),
    ]]
    fillet(fillet_1_edges, radius=FILLET_1_R)


solid = part.part
